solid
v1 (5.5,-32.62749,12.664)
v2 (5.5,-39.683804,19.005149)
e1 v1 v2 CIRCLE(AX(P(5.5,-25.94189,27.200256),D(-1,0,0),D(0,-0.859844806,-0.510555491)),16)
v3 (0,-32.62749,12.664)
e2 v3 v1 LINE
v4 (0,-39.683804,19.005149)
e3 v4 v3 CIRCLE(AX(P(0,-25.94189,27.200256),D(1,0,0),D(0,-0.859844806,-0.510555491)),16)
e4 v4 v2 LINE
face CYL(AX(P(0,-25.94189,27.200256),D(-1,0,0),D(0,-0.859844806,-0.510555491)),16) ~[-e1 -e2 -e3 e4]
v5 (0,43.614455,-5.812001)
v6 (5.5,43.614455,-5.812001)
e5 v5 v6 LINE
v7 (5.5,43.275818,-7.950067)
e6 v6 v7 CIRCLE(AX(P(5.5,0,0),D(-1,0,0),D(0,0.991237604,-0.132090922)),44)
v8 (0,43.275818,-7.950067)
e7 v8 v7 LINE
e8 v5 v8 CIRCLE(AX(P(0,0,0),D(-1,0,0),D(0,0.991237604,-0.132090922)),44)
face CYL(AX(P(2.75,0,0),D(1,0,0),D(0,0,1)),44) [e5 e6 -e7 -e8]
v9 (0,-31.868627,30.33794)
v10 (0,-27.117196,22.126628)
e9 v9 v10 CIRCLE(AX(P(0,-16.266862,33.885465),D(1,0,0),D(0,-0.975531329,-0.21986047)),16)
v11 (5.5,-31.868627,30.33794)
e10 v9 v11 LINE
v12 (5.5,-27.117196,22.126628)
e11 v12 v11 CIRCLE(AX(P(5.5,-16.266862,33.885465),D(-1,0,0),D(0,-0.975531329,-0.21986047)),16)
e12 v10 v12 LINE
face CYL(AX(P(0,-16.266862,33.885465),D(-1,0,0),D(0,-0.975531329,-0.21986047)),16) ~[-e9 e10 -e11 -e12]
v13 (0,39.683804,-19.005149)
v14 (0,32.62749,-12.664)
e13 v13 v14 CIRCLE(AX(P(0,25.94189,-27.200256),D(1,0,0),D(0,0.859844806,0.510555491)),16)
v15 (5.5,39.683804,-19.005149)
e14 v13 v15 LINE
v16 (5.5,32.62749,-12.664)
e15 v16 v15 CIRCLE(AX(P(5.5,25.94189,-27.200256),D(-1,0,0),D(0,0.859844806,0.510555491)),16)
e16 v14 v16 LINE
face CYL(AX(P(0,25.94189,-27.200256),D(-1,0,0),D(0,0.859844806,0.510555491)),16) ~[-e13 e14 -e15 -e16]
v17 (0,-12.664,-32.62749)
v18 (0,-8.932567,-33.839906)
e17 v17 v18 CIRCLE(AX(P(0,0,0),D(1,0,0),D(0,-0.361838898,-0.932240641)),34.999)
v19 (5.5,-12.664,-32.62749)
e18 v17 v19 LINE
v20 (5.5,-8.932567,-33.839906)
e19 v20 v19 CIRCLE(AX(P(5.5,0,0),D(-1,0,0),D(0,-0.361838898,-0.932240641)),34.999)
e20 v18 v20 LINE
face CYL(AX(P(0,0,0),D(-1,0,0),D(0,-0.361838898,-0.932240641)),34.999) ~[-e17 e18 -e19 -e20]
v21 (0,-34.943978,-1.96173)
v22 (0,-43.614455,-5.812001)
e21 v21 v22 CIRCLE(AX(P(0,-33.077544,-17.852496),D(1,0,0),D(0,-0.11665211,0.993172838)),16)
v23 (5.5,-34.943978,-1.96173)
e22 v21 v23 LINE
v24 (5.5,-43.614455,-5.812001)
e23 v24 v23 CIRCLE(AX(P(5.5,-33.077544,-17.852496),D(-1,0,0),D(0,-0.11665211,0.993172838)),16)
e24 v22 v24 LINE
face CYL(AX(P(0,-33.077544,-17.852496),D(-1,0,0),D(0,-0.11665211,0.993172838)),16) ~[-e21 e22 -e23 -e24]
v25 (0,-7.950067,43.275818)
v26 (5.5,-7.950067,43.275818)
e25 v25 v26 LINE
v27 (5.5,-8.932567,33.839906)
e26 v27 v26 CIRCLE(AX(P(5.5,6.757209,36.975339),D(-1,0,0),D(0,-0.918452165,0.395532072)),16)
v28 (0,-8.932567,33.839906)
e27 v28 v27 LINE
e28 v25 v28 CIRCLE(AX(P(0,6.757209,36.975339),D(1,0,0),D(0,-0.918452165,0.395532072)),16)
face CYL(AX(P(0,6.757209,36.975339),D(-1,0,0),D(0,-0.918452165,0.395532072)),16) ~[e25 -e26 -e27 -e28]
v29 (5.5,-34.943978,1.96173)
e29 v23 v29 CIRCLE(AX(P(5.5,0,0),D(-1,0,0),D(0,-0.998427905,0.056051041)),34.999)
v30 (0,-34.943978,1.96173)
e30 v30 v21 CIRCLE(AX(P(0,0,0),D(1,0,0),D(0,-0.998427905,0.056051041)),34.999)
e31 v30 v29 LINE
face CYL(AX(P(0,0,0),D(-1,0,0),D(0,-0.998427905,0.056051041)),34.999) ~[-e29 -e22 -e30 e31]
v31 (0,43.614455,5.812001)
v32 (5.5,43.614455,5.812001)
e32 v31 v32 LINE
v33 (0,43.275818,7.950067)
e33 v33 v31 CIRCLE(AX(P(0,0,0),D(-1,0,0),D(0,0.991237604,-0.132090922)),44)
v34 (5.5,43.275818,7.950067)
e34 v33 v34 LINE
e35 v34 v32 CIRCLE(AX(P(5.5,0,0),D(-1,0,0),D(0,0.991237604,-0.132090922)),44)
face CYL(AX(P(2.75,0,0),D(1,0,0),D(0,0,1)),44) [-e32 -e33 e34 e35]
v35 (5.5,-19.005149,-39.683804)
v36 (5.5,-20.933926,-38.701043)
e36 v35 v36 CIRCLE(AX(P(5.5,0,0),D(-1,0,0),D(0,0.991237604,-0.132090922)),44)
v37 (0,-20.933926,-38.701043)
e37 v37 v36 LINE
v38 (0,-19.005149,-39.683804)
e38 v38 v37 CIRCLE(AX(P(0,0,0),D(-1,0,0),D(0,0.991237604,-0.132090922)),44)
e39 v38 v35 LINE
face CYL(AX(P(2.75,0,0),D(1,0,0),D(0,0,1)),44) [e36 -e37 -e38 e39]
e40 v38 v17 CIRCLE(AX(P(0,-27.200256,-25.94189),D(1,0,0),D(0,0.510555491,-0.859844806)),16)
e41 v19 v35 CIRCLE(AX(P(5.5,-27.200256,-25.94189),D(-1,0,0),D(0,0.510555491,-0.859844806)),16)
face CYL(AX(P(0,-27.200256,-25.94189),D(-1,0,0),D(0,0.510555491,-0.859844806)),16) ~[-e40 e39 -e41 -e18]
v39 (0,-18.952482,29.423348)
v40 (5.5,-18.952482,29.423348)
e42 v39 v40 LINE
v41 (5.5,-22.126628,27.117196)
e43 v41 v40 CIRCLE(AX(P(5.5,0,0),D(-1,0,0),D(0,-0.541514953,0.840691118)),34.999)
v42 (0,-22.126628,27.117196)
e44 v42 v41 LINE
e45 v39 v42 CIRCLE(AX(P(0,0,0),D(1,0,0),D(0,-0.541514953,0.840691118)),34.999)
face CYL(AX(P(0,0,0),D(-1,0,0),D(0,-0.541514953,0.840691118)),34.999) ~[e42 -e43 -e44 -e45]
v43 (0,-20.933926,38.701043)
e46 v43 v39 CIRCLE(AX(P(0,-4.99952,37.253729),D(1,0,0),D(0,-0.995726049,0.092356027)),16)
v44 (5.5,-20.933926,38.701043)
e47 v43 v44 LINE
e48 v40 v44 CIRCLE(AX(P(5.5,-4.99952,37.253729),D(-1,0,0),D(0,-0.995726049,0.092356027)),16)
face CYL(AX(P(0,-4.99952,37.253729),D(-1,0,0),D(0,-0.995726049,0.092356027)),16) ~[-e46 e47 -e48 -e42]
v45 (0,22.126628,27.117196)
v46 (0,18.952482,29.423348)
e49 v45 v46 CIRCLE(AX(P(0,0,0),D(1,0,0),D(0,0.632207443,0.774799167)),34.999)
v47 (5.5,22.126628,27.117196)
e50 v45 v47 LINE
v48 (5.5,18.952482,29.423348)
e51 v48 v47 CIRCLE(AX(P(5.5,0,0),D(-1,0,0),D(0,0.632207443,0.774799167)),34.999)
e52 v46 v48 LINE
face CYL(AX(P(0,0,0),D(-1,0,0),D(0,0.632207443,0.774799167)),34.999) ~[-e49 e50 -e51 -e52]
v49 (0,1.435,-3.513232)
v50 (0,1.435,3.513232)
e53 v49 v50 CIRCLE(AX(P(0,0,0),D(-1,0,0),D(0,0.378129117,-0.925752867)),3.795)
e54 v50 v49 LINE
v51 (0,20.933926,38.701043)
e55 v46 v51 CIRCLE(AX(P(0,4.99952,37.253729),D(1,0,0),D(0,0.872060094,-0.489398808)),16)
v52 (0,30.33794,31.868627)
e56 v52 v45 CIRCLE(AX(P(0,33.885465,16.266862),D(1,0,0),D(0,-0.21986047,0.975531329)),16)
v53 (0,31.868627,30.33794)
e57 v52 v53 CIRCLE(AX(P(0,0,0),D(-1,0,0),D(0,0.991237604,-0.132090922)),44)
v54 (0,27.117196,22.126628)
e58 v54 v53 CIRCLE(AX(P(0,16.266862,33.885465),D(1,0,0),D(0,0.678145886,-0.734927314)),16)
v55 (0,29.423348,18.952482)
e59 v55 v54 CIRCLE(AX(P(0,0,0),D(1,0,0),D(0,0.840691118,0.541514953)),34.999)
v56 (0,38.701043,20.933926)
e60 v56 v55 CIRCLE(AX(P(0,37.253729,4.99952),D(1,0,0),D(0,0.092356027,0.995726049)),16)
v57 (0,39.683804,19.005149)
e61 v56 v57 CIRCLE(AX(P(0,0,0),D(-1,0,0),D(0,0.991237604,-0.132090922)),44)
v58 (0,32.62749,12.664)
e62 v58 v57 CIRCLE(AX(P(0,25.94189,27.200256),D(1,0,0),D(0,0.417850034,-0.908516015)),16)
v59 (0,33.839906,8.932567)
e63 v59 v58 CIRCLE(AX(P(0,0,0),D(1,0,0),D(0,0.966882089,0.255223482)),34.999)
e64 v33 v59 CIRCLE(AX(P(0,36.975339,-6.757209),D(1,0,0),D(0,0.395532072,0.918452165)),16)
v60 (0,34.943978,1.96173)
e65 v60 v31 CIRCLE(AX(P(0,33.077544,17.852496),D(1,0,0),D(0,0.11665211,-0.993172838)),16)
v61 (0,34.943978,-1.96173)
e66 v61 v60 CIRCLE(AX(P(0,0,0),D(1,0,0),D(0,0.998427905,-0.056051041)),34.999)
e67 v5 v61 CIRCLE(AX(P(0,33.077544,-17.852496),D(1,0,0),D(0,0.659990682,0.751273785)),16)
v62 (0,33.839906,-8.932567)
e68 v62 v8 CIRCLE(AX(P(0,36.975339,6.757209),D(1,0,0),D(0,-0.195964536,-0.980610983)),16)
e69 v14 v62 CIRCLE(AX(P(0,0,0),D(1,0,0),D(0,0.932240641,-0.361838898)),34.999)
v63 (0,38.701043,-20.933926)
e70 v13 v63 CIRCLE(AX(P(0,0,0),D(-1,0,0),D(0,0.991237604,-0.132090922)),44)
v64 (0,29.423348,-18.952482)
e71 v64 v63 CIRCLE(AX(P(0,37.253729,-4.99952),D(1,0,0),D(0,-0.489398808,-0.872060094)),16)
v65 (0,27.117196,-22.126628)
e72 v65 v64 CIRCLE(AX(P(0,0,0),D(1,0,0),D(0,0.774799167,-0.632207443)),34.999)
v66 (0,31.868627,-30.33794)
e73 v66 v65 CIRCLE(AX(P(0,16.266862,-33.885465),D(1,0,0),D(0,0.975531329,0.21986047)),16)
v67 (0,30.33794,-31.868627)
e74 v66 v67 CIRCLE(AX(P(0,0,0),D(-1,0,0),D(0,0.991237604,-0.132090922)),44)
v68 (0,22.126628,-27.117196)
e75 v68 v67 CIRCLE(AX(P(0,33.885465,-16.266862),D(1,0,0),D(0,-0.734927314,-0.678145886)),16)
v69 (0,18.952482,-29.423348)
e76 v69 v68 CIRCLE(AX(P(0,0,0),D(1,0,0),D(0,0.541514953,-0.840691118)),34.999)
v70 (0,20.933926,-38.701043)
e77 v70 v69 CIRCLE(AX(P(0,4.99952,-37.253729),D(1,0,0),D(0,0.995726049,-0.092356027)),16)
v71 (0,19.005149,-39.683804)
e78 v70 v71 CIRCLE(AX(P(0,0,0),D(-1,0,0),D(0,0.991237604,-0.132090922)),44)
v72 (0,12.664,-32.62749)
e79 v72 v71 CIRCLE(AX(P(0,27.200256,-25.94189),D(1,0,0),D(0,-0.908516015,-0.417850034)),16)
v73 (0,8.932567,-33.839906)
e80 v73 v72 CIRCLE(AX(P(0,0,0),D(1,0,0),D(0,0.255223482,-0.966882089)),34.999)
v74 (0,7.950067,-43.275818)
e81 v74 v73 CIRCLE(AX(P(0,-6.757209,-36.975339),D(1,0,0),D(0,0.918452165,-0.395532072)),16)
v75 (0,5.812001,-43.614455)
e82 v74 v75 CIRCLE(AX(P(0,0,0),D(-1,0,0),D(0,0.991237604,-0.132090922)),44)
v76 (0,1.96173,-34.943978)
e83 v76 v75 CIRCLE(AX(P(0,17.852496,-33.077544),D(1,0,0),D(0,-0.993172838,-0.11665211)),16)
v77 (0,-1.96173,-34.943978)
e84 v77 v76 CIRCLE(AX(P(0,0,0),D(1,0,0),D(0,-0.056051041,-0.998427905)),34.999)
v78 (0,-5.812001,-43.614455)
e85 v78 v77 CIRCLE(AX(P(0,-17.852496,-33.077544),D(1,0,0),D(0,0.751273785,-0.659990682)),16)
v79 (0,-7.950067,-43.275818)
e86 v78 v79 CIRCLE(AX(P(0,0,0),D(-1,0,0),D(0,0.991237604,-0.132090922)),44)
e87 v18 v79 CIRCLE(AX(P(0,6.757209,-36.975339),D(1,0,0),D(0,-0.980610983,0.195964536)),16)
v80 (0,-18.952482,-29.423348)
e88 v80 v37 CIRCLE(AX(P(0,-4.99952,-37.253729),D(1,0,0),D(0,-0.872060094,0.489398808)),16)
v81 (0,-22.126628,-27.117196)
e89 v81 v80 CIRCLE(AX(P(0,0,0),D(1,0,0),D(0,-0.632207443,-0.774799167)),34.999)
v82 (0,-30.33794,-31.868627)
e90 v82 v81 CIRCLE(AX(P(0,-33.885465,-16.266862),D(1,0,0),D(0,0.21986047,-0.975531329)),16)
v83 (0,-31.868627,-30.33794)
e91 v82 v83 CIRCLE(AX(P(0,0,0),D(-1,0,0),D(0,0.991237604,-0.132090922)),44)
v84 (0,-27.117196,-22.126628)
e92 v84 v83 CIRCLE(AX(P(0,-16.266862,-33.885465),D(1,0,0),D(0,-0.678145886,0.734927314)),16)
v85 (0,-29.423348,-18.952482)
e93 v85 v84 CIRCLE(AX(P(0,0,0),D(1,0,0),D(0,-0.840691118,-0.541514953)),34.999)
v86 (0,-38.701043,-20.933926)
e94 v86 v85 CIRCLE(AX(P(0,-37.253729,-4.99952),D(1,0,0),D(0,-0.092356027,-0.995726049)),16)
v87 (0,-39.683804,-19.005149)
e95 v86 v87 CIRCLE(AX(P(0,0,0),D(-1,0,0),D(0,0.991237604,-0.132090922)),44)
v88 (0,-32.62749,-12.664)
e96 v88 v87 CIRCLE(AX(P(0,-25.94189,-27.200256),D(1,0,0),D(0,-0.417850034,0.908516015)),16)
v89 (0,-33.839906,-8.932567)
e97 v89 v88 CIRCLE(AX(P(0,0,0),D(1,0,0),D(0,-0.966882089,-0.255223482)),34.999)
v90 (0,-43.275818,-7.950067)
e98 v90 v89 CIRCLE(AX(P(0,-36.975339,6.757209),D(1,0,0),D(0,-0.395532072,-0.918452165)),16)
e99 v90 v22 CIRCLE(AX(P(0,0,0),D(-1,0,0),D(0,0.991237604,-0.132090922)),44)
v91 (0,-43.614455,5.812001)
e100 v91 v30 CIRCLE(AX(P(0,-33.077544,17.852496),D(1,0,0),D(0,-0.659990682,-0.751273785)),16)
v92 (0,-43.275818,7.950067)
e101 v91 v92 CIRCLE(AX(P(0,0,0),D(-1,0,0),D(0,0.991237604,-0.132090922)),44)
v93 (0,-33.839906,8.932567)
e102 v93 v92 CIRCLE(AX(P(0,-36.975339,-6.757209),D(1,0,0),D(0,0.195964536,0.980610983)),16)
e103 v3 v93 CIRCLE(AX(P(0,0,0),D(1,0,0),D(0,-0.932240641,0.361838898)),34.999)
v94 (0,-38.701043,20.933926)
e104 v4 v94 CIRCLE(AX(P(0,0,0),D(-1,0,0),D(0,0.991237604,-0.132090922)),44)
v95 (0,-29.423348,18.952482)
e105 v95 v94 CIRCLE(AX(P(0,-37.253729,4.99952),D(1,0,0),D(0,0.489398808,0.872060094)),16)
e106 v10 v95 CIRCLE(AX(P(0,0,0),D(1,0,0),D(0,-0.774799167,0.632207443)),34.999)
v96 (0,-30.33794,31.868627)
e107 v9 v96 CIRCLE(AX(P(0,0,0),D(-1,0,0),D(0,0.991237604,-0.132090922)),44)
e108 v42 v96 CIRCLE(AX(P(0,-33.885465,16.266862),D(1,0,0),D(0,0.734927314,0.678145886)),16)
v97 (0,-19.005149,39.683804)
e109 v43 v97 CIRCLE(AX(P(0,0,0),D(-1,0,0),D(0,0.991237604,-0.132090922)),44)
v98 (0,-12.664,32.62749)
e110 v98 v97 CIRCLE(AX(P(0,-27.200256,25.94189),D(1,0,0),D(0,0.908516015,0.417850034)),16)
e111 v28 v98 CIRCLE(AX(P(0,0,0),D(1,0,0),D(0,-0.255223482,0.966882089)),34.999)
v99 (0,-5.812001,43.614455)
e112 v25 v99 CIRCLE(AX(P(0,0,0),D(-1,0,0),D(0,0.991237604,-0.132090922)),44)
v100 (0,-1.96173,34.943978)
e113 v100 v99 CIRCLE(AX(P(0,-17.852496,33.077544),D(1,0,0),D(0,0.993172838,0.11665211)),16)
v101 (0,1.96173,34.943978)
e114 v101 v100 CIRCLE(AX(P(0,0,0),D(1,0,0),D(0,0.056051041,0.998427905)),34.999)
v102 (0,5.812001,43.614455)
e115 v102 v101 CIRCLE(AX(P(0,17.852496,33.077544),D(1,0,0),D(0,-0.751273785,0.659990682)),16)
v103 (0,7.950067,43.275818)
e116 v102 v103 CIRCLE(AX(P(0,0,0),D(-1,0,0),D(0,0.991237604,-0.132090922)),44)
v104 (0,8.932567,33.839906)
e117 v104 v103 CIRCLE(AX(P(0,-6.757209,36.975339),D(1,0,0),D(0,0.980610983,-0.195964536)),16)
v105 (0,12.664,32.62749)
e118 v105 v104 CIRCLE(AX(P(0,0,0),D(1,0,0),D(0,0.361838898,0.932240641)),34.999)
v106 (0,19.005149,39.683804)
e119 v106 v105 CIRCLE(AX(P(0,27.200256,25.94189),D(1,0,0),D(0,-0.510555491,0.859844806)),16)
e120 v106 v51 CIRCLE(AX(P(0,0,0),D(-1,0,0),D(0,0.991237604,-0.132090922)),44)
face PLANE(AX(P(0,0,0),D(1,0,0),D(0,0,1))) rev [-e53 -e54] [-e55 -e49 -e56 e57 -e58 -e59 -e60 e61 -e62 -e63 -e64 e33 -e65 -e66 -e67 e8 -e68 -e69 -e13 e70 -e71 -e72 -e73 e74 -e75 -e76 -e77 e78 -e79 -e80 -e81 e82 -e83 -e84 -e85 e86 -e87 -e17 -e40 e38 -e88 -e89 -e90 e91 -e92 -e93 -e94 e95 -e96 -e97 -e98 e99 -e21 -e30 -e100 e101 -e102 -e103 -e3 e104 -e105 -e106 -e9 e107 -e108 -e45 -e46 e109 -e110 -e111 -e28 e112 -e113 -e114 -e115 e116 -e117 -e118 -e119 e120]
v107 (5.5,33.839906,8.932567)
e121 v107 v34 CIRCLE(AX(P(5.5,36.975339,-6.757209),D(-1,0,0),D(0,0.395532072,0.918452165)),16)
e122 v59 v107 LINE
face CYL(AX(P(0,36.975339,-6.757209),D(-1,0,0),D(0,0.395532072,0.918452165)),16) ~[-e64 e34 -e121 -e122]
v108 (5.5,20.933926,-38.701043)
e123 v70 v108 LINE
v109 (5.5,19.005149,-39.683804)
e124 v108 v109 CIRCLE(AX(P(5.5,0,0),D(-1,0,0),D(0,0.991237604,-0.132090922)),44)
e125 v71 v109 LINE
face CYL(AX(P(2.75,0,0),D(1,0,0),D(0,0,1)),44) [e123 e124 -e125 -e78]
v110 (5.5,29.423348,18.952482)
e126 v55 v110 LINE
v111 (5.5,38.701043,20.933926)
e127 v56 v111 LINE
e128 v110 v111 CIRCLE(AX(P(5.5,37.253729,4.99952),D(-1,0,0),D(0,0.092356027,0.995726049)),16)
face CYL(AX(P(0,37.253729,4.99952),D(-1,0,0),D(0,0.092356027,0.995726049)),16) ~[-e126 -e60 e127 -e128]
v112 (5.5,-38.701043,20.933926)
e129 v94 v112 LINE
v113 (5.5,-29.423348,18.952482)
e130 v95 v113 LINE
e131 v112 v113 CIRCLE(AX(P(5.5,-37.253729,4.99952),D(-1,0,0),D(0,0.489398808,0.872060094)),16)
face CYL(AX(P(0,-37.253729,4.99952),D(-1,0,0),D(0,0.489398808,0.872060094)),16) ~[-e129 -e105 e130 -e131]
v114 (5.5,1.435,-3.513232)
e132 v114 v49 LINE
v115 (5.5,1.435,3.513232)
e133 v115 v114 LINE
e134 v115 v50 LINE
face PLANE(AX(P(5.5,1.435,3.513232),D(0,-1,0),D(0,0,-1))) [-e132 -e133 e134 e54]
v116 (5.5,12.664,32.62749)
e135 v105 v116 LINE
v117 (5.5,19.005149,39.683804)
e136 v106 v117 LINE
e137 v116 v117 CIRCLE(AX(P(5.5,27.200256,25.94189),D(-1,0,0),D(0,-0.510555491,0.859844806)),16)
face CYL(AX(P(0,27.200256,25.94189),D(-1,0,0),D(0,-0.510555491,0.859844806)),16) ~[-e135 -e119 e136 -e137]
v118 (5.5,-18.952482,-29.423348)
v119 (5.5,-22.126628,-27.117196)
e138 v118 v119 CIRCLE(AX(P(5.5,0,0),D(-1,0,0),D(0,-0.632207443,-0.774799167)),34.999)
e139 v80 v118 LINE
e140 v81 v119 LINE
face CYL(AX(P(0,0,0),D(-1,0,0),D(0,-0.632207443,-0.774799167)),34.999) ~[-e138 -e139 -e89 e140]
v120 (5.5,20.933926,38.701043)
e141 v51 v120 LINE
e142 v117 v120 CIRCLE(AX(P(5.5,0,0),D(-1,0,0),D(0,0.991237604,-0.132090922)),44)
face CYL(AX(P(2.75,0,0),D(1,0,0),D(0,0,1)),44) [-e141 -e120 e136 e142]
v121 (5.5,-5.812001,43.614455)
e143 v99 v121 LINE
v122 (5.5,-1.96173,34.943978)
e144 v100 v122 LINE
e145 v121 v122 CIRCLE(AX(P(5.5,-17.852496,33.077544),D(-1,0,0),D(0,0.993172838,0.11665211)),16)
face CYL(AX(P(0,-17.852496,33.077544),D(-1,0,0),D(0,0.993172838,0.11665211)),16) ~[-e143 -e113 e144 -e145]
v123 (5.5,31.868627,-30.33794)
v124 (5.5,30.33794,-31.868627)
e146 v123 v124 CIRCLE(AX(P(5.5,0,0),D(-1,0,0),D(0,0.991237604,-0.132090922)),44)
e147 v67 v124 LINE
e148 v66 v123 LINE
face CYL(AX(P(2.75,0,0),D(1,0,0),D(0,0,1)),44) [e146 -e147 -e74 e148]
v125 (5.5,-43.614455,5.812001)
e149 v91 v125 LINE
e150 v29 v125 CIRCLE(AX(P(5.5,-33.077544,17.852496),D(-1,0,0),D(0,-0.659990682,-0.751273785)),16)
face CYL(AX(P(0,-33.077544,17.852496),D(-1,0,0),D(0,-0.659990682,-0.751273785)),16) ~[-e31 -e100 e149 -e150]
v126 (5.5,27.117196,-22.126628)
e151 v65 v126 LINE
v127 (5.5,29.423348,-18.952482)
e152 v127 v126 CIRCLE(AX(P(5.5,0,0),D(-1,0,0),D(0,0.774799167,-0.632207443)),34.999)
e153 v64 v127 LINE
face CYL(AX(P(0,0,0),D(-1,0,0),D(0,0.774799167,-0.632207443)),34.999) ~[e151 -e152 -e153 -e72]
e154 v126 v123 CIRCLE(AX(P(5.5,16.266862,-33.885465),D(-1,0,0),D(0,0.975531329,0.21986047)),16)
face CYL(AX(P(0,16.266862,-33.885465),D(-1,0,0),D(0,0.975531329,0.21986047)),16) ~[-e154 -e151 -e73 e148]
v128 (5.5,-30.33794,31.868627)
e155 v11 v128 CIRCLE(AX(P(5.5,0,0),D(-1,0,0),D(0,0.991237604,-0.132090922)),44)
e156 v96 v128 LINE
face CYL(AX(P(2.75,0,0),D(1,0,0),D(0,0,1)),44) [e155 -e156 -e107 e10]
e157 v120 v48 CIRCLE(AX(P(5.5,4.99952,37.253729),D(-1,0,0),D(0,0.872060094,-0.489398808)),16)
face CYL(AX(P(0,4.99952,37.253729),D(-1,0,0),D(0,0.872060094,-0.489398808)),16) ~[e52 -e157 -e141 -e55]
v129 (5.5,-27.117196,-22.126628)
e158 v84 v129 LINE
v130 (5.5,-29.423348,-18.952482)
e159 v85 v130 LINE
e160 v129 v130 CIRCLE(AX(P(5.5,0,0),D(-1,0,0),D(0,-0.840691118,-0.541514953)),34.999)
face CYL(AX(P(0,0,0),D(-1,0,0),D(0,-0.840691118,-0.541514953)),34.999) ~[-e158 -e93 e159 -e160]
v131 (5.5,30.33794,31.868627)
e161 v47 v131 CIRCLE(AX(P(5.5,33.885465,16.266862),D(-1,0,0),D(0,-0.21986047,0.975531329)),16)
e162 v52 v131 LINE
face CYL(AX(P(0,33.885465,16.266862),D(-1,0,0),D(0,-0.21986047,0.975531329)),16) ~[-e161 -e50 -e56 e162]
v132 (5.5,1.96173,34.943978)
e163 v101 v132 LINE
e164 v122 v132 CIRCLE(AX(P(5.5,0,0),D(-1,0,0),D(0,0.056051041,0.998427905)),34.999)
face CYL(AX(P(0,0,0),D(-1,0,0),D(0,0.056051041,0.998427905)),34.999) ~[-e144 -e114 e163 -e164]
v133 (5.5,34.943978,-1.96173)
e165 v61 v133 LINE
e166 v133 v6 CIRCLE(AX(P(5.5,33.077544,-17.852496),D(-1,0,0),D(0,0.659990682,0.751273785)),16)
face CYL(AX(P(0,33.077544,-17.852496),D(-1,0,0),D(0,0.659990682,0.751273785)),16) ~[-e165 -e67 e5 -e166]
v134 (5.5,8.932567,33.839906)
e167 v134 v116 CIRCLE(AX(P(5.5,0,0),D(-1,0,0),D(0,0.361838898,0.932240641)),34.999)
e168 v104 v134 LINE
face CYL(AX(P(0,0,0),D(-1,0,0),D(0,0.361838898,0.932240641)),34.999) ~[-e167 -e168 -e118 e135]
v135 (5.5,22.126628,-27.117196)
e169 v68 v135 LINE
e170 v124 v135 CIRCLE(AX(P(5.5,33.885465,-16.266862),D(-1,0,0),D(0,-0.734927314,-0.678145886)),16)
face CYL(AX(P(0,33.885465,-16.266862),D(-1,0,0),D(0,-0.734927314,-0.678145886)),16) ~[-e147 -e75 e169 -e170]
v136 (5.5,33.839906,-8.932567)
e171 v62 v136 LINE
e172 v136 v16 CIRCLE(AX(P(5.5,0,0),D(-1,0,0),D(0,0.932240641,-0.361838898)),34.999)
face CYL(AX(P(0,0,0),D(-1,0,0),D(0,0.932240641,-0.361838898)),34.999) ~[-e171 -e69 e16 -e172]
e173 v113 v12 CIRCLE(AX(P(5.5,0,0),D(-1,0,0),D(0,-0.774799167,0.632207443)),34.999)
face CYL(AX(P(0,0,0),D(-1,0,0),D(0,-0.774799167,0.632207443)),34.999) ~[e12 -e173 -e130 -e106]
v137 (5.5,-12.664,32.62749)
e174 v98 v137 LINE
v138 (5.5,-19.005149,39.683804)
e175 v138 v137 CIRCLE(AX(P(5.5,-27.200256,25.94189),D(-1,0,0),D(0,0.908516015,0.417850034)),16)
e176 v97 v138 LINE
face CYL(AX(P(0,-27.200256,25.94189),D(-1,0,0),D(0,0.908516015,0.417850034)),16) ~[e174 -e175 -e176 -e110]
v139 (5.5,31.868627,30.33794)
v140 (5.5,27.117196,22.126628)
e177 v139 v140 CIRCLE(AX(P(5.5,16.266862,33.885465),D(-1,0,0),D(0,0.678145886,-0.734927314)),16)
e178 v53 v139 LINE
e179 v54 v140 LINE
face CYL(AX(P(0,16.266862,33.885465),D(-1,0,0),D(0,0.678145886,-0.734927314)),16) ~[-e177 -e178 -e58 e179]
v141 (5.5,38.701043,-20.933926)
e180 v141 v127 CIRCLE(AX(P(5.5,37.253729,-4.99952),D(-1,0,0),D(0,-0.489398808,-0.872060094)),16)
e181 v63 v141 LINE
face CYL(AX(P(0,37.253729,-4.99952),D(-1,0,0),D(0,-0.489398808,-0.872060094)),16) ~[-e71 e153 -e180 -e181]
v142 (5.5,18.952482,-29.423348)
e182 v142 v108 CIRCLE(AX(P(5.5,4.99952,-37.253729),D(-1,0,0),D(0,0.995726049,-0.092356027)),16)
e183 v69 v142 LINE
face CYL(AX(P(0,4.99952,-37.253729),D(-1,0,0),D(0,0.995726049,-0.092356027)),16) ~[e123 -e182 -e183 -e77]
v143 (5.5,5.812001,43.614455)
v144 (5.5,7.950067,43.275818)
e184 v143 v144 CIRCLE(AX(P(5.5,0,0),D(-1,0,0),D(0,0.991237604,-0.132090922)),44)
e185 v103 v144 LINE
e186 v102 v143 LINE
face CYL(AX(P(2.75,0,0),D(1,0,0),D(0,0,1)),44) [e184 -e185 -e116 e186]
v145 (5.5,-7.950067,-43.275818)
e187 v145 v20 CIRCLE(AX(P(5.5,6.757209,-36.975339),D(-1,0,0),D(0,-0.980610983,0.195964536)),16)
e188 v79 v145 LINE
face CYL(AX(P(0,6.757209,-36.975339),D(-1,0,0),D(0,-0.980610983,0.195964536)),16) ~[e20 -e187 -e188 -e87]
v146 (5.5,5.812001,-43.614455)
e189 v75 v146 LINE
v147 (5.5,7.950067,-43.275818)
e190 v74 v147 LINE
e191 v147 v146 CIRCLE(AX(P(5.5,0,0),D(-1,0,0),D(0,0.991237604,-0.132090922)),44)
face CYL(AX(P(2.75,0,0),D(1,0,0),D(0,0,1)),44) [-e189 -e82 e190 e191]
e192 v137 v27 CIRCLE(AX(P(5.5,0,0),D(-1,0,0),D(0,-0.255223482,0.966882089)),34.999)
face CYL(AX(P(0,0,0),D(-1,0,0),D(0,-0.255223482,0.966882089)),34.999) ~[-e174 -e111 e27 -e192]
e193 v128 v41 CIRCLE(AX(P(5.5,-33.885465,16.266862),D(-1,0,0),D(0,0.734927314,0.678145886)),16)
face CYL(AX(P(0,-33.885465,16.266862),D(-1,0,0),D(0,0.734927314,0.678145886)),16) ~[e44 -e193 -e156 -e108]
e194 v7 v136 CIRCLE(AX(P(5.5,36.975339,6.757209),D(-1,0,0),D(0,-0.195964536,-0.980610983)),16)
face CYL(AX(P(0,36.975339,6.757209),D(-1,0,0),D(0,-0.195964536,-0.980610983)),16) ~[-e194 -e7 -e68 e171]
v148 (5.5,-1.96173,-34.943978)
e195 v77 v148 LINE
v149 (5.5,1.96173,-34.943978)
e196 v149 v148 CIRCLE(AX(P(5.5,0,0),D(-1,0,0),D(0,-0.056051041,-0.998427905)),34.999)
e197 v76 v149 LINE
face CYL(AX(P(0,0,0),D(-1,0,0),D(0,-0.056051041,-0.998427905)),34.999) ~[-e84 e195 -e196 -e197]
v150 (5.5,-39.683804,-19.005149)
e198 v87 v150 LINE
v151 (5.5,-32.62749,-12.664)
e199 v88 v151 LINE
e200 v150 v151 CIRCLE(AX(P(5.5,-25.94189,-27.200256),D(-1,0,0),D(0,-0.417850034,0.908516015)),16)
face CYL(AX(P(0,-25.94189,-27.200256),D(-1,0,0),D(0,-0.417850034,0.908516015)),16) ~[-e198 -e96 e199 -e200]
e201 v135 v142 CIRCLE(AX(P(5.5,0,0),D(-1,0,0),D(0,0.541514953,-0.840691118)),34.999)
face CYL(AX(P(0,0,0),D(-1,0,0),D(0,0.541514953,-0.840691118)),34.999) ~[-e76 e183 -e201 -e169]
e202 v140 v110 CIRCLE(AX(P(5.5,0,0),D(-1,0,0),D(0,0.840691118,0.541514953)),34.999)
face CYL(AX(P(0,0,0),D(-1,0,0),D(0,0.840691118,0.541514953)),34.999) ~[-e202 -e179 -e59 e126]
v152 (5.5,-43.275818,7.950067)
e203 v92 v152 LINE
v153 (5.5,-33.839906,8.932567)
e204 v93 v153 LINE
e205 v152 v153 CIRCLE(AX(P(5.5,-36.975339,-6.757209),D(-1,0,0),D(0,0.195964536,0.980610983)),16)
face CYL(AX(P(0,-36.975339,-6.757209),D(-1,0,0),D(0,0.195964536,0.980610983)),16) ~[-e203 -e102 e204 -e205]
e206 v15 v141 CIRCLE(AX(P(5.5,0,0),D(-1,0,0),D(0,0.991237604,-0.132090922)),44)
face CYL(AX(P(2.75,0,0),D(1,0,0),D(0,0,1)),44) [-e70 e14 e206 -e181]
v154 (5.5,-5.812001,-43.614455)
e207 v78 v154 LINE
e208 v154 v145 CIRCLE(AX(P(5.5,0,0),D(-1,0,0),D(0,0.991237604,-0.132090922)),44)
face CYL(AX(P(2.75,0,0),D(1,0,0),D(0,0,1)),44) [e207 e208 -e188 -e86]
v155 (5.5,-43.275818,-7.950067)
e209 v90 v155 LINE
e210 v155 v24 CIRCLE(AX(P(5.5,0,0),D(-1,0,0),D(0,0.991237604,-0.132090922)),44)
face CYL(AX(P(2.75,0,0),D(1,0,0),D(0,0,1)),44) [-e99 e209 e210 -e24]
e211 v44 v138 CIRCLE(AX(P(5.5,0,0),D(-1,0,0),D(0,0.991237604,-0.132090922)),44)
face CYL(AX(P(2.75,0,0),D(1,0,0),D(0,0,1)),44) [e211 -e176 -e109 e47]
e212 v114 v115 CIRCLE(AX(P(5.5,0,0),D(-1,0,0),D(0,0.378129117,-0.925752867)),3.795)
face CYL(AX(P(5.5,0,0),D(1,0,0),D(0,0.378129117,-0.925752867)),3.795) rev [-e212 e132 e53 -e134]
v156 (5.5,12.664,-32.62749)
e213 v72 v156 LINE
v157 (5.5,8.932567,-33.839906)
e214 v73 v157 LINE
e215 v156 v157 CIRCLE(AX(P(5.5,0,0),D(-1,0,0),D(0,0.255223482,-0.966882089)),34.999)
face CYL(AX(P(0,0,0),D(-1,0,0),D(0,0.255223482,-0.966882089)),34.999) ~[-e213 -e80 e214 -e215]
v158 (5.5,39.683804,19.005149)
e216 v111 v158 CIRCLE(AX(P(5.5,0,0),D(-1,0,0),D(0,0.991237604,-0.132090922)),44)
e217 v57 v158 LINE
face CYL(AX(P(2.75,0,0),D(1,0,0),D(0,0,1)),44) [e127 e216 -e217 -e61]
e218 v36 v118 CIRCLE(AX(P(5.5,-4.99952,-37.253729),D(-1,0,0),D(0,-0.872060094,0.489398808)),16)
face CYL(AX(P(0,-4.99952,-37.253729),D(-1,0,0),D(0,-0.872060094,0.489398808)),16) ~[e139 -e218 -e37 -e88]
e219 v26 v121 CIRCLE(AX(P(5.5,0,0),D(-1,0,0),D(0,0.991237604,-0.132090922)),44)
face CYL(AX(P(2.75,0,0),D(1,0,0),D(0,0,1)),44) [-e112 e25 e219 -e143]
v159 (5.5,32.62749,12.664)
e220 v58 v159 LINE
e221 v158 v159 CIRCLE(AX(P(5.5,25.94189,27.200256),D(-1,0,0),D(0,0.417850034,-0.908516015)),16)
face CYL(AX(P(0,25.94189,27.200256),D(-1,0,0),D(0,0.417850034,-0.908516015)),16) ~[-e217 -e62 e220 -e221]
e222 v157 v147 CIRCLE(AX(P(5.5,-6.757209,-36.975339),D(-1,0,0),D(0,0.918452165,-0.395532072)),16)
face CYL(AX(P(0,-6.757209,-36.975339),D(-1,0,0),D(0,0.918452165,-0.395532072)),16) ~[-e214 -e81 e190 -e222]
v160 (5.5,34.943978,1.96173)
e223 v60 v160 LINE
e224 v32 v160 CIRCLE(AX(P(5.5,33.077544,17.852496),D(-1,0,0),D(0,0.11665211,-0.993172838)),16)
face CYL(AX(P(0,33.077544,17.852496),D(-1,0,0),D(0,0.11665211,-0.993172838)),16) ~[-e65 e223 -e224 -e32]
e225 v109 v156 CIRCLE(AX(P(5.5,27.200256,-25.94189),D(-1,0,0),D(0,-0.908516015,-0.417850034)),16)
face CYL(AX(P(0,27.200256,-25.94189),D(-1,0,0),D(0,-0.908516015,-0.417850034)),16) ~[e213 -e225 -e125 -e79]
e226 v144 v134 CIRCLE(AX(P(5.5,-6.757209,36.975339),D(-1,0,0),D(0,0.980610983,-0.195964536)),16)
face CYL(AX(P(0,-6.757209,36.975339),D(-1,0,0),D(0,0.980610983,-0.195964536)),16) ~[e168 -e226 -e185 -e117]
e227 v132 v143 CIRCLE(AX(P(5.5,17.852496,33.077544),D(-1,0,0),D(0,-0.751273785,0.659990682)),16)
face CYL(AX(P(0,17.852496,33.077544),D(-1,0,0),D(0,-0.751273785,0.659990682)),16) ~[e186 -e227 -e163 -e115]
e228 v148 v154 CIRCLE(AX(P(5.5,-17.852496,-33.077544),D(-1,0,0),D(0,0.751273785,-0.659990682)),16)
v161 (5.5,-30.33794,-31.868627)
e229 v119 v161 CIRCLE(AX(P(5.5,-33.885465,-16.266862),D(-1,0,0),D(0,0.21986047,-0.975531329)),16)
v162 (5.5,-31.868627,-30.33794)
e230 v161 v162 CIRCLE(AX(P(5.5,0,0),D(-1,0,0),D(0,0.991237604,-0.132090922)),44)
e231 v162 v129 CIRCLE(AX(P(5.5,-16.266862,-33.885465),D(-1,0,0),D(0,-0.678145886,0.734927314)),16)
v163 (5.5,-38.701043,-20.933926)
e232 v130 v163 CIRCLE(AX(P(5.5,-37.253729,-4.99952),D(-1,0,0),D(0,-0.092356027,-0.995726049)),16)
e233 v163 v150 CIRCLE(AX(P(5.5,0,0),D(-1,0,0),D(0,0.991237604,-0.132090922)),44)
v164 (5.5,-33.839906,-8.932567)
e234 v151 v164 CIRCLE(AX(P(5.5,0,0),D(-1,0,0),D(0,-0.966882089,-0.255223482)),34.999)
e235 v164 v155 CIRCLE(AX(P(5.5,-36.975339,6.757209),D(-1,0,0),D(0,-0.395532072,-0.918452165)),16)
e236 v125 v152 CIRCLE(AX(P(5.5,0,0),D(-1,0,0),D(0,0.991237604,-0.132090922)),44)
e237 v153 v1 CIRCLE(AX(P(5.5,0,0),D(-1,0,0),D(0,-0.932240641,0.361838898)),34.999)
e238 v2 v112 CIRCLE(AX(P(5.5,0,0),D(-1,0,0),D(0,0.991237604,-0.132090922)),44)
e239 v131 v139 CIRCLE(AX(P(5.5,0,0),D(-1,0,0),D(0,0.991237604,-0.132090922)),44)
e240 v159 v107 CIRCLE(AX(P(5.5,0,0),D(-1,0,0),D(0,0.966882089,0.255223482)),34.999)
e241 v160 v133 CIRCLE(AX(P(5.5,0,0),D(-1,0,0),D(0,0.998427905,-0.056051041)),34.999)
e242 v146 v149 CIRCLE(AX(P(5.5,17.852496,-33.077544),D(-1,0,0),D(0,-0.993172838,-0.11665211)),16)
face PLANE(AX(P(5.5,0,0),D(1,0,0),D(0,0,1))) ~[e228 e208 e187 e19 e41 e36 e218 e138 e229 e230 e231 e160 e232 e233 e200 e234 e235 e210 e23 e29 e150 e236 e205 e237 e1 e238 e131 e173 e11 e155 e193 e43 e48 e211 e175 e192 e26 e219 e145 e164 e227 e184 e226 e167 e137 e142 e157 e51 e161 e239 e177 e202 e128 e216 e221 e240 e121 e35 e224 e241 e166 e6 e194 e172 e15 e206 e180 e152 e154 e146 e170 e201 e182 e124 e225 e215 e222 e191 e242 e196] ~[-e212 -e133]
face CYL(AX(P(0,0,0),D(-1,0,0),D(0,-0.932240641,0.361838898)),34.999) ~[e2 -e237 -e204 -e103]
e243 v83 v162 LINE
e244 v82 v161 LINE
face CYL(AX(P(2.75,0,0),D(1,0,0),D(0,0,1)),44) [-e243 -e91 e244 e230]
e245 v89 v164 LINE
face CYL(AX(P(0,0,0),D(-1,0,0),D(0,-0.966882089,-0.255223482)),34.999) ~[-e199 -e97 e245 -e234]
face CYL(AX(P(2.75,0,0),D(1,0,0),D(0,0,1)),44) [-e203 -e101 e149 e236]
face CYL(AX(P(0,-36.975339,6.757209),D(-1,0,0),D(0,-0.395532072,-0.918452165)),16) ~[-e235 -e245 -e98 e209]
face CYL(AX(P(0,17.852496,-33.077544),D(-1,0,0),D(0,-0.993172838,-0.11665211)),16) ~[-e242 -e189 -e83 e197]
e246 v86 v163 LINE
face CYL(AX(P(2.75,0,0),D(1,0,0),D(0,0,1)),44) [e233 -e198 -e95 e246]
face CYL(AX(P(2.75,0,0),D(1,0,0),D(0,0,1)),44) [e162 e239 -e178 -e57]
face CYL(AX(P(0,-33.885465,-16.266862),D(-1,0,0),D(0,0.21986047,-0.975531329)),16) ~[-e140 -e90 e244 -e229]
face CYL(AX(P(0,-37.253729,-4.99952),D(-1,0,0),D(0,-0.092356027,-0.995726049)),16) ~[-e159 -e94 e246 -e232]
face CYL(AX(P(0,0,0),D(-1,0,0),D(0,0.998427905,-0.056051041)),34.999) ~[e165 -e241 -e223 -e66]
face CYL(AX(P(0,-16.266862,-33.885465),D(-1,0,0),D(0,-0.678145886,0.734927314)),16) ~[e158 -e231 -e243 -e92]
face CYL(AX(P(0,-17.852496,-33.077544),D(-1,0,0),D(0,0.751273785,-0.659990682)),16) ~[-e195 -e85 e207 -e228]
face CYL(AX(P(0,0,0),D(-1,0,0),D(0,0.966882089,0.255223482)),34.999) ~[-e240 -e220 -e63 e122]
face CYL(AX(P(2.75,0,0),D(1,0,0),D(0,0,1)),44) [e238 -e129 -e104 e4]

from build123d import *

# Parameters (mm, degrees)
BASPROSKE_W           = 5.5
BASPROSKE_H           = 44
TOOTHCUT_DEPTH        = 63.467991804
TEETHCUTS_COUNT       = 20
TEETHCUTS_ANGLE       = 342
BORSKE_R              = 0.5
BORE_DEPTH            = 50.0000508
CORTAR_EXTRUIR1_DEPTH = 5.5


with BuildPart() as part:
    # BasProSke → Base-Revolve (revolve)
    with BuildSketch(Plane(origin=(0, 0, 0), x_dir=(1, 0, 0), z_dir=(0, 1, 0)), mode=Mode.PRIVATE) as base_revolve_sk:
        with Locations((2.75, 22)):
            Rectangle(BASPROSKE_W, BASPROSKE_H)
    revolve(base_revolve_sk.sketch.rotate(Axis((-10, 0, 0), (1, 0, 0)), 180), axis=Axis((-10, 0, 0), (1, 0, 0)))

    # TooCutSke → ToothCut (cut, through all)
    with BuildSketch(Plane(origin=(0, 0, 0), x_dir=(0, 0, -1), z_dir=(1, 0, 0))):
        with BuildLine():
            ThreePointArc((1.961730392, 34.943978235), (0, 34.999), (-1.961730392, 34.943978235))
            ThreePointArc((-1.961730392, 34.943978235), (-3.235659864, 39.585086827), (-5.832115241, 43.637395396))
            ThreePointArc((-5.832115241, 43.637395396), (0, 44.0254), (5.832115241, 43.637395396))
            ThreePointArc((5.832115241, 43.637395396), (3.235659864, 39.585086827), (1.961730392, 34.943978235))
        make_face()
    toothcut = extrude(amount=TOOTHCUT_DEPTH, mode=Mode.SUBTRACT)

    # TeethCuts: ToothCut ×20 about axis
    teethcuts_axis = Axis((-10, 0, 0), (1, 0, 0))
    for i in range(1, TEETHCUTS_COUNT):
        add(toothcut.rotate(teethcuts_axis, i * TEETHCUTS_ANGLE / (TEETHCUTS_COUNT - 1)), mode=Mode.SUBTRACT)

    # BorSke → Bore (cut, symmetric)
    with BuildSketch(Plane(origin=(0, 0, 0), x_dir=(0, 0, -1), z_dir=(1, 0, 0))):
        with Locations(Location((0, 0, 0), (0, 0, 180))):
            Circle(BORSKE_R)
    extrude(amount=BORE_DEPTH, both=True, mode=Mode.SUBTRACT)

    # Croquis1 → Cortar-Extruir1 (cut)
    with BuildSketch(Plane(origin=(5.5, 0, 0), x_dir=(0, 0, -1), z_dir=(1, 0, 0))):
        with BuildLine():
            Line((-3.51323213, 1.435), (3.51323213, 1.435))
            ThreePointArc((3.51323213, 1.435), (0, -3.795), (-3.51323213, 1.435))
        make_face()
    extrude(amount=-CORTAR_EXTRUIR1_DEPTH, mode=Mode.SUBTRACT)


solid = part.part
